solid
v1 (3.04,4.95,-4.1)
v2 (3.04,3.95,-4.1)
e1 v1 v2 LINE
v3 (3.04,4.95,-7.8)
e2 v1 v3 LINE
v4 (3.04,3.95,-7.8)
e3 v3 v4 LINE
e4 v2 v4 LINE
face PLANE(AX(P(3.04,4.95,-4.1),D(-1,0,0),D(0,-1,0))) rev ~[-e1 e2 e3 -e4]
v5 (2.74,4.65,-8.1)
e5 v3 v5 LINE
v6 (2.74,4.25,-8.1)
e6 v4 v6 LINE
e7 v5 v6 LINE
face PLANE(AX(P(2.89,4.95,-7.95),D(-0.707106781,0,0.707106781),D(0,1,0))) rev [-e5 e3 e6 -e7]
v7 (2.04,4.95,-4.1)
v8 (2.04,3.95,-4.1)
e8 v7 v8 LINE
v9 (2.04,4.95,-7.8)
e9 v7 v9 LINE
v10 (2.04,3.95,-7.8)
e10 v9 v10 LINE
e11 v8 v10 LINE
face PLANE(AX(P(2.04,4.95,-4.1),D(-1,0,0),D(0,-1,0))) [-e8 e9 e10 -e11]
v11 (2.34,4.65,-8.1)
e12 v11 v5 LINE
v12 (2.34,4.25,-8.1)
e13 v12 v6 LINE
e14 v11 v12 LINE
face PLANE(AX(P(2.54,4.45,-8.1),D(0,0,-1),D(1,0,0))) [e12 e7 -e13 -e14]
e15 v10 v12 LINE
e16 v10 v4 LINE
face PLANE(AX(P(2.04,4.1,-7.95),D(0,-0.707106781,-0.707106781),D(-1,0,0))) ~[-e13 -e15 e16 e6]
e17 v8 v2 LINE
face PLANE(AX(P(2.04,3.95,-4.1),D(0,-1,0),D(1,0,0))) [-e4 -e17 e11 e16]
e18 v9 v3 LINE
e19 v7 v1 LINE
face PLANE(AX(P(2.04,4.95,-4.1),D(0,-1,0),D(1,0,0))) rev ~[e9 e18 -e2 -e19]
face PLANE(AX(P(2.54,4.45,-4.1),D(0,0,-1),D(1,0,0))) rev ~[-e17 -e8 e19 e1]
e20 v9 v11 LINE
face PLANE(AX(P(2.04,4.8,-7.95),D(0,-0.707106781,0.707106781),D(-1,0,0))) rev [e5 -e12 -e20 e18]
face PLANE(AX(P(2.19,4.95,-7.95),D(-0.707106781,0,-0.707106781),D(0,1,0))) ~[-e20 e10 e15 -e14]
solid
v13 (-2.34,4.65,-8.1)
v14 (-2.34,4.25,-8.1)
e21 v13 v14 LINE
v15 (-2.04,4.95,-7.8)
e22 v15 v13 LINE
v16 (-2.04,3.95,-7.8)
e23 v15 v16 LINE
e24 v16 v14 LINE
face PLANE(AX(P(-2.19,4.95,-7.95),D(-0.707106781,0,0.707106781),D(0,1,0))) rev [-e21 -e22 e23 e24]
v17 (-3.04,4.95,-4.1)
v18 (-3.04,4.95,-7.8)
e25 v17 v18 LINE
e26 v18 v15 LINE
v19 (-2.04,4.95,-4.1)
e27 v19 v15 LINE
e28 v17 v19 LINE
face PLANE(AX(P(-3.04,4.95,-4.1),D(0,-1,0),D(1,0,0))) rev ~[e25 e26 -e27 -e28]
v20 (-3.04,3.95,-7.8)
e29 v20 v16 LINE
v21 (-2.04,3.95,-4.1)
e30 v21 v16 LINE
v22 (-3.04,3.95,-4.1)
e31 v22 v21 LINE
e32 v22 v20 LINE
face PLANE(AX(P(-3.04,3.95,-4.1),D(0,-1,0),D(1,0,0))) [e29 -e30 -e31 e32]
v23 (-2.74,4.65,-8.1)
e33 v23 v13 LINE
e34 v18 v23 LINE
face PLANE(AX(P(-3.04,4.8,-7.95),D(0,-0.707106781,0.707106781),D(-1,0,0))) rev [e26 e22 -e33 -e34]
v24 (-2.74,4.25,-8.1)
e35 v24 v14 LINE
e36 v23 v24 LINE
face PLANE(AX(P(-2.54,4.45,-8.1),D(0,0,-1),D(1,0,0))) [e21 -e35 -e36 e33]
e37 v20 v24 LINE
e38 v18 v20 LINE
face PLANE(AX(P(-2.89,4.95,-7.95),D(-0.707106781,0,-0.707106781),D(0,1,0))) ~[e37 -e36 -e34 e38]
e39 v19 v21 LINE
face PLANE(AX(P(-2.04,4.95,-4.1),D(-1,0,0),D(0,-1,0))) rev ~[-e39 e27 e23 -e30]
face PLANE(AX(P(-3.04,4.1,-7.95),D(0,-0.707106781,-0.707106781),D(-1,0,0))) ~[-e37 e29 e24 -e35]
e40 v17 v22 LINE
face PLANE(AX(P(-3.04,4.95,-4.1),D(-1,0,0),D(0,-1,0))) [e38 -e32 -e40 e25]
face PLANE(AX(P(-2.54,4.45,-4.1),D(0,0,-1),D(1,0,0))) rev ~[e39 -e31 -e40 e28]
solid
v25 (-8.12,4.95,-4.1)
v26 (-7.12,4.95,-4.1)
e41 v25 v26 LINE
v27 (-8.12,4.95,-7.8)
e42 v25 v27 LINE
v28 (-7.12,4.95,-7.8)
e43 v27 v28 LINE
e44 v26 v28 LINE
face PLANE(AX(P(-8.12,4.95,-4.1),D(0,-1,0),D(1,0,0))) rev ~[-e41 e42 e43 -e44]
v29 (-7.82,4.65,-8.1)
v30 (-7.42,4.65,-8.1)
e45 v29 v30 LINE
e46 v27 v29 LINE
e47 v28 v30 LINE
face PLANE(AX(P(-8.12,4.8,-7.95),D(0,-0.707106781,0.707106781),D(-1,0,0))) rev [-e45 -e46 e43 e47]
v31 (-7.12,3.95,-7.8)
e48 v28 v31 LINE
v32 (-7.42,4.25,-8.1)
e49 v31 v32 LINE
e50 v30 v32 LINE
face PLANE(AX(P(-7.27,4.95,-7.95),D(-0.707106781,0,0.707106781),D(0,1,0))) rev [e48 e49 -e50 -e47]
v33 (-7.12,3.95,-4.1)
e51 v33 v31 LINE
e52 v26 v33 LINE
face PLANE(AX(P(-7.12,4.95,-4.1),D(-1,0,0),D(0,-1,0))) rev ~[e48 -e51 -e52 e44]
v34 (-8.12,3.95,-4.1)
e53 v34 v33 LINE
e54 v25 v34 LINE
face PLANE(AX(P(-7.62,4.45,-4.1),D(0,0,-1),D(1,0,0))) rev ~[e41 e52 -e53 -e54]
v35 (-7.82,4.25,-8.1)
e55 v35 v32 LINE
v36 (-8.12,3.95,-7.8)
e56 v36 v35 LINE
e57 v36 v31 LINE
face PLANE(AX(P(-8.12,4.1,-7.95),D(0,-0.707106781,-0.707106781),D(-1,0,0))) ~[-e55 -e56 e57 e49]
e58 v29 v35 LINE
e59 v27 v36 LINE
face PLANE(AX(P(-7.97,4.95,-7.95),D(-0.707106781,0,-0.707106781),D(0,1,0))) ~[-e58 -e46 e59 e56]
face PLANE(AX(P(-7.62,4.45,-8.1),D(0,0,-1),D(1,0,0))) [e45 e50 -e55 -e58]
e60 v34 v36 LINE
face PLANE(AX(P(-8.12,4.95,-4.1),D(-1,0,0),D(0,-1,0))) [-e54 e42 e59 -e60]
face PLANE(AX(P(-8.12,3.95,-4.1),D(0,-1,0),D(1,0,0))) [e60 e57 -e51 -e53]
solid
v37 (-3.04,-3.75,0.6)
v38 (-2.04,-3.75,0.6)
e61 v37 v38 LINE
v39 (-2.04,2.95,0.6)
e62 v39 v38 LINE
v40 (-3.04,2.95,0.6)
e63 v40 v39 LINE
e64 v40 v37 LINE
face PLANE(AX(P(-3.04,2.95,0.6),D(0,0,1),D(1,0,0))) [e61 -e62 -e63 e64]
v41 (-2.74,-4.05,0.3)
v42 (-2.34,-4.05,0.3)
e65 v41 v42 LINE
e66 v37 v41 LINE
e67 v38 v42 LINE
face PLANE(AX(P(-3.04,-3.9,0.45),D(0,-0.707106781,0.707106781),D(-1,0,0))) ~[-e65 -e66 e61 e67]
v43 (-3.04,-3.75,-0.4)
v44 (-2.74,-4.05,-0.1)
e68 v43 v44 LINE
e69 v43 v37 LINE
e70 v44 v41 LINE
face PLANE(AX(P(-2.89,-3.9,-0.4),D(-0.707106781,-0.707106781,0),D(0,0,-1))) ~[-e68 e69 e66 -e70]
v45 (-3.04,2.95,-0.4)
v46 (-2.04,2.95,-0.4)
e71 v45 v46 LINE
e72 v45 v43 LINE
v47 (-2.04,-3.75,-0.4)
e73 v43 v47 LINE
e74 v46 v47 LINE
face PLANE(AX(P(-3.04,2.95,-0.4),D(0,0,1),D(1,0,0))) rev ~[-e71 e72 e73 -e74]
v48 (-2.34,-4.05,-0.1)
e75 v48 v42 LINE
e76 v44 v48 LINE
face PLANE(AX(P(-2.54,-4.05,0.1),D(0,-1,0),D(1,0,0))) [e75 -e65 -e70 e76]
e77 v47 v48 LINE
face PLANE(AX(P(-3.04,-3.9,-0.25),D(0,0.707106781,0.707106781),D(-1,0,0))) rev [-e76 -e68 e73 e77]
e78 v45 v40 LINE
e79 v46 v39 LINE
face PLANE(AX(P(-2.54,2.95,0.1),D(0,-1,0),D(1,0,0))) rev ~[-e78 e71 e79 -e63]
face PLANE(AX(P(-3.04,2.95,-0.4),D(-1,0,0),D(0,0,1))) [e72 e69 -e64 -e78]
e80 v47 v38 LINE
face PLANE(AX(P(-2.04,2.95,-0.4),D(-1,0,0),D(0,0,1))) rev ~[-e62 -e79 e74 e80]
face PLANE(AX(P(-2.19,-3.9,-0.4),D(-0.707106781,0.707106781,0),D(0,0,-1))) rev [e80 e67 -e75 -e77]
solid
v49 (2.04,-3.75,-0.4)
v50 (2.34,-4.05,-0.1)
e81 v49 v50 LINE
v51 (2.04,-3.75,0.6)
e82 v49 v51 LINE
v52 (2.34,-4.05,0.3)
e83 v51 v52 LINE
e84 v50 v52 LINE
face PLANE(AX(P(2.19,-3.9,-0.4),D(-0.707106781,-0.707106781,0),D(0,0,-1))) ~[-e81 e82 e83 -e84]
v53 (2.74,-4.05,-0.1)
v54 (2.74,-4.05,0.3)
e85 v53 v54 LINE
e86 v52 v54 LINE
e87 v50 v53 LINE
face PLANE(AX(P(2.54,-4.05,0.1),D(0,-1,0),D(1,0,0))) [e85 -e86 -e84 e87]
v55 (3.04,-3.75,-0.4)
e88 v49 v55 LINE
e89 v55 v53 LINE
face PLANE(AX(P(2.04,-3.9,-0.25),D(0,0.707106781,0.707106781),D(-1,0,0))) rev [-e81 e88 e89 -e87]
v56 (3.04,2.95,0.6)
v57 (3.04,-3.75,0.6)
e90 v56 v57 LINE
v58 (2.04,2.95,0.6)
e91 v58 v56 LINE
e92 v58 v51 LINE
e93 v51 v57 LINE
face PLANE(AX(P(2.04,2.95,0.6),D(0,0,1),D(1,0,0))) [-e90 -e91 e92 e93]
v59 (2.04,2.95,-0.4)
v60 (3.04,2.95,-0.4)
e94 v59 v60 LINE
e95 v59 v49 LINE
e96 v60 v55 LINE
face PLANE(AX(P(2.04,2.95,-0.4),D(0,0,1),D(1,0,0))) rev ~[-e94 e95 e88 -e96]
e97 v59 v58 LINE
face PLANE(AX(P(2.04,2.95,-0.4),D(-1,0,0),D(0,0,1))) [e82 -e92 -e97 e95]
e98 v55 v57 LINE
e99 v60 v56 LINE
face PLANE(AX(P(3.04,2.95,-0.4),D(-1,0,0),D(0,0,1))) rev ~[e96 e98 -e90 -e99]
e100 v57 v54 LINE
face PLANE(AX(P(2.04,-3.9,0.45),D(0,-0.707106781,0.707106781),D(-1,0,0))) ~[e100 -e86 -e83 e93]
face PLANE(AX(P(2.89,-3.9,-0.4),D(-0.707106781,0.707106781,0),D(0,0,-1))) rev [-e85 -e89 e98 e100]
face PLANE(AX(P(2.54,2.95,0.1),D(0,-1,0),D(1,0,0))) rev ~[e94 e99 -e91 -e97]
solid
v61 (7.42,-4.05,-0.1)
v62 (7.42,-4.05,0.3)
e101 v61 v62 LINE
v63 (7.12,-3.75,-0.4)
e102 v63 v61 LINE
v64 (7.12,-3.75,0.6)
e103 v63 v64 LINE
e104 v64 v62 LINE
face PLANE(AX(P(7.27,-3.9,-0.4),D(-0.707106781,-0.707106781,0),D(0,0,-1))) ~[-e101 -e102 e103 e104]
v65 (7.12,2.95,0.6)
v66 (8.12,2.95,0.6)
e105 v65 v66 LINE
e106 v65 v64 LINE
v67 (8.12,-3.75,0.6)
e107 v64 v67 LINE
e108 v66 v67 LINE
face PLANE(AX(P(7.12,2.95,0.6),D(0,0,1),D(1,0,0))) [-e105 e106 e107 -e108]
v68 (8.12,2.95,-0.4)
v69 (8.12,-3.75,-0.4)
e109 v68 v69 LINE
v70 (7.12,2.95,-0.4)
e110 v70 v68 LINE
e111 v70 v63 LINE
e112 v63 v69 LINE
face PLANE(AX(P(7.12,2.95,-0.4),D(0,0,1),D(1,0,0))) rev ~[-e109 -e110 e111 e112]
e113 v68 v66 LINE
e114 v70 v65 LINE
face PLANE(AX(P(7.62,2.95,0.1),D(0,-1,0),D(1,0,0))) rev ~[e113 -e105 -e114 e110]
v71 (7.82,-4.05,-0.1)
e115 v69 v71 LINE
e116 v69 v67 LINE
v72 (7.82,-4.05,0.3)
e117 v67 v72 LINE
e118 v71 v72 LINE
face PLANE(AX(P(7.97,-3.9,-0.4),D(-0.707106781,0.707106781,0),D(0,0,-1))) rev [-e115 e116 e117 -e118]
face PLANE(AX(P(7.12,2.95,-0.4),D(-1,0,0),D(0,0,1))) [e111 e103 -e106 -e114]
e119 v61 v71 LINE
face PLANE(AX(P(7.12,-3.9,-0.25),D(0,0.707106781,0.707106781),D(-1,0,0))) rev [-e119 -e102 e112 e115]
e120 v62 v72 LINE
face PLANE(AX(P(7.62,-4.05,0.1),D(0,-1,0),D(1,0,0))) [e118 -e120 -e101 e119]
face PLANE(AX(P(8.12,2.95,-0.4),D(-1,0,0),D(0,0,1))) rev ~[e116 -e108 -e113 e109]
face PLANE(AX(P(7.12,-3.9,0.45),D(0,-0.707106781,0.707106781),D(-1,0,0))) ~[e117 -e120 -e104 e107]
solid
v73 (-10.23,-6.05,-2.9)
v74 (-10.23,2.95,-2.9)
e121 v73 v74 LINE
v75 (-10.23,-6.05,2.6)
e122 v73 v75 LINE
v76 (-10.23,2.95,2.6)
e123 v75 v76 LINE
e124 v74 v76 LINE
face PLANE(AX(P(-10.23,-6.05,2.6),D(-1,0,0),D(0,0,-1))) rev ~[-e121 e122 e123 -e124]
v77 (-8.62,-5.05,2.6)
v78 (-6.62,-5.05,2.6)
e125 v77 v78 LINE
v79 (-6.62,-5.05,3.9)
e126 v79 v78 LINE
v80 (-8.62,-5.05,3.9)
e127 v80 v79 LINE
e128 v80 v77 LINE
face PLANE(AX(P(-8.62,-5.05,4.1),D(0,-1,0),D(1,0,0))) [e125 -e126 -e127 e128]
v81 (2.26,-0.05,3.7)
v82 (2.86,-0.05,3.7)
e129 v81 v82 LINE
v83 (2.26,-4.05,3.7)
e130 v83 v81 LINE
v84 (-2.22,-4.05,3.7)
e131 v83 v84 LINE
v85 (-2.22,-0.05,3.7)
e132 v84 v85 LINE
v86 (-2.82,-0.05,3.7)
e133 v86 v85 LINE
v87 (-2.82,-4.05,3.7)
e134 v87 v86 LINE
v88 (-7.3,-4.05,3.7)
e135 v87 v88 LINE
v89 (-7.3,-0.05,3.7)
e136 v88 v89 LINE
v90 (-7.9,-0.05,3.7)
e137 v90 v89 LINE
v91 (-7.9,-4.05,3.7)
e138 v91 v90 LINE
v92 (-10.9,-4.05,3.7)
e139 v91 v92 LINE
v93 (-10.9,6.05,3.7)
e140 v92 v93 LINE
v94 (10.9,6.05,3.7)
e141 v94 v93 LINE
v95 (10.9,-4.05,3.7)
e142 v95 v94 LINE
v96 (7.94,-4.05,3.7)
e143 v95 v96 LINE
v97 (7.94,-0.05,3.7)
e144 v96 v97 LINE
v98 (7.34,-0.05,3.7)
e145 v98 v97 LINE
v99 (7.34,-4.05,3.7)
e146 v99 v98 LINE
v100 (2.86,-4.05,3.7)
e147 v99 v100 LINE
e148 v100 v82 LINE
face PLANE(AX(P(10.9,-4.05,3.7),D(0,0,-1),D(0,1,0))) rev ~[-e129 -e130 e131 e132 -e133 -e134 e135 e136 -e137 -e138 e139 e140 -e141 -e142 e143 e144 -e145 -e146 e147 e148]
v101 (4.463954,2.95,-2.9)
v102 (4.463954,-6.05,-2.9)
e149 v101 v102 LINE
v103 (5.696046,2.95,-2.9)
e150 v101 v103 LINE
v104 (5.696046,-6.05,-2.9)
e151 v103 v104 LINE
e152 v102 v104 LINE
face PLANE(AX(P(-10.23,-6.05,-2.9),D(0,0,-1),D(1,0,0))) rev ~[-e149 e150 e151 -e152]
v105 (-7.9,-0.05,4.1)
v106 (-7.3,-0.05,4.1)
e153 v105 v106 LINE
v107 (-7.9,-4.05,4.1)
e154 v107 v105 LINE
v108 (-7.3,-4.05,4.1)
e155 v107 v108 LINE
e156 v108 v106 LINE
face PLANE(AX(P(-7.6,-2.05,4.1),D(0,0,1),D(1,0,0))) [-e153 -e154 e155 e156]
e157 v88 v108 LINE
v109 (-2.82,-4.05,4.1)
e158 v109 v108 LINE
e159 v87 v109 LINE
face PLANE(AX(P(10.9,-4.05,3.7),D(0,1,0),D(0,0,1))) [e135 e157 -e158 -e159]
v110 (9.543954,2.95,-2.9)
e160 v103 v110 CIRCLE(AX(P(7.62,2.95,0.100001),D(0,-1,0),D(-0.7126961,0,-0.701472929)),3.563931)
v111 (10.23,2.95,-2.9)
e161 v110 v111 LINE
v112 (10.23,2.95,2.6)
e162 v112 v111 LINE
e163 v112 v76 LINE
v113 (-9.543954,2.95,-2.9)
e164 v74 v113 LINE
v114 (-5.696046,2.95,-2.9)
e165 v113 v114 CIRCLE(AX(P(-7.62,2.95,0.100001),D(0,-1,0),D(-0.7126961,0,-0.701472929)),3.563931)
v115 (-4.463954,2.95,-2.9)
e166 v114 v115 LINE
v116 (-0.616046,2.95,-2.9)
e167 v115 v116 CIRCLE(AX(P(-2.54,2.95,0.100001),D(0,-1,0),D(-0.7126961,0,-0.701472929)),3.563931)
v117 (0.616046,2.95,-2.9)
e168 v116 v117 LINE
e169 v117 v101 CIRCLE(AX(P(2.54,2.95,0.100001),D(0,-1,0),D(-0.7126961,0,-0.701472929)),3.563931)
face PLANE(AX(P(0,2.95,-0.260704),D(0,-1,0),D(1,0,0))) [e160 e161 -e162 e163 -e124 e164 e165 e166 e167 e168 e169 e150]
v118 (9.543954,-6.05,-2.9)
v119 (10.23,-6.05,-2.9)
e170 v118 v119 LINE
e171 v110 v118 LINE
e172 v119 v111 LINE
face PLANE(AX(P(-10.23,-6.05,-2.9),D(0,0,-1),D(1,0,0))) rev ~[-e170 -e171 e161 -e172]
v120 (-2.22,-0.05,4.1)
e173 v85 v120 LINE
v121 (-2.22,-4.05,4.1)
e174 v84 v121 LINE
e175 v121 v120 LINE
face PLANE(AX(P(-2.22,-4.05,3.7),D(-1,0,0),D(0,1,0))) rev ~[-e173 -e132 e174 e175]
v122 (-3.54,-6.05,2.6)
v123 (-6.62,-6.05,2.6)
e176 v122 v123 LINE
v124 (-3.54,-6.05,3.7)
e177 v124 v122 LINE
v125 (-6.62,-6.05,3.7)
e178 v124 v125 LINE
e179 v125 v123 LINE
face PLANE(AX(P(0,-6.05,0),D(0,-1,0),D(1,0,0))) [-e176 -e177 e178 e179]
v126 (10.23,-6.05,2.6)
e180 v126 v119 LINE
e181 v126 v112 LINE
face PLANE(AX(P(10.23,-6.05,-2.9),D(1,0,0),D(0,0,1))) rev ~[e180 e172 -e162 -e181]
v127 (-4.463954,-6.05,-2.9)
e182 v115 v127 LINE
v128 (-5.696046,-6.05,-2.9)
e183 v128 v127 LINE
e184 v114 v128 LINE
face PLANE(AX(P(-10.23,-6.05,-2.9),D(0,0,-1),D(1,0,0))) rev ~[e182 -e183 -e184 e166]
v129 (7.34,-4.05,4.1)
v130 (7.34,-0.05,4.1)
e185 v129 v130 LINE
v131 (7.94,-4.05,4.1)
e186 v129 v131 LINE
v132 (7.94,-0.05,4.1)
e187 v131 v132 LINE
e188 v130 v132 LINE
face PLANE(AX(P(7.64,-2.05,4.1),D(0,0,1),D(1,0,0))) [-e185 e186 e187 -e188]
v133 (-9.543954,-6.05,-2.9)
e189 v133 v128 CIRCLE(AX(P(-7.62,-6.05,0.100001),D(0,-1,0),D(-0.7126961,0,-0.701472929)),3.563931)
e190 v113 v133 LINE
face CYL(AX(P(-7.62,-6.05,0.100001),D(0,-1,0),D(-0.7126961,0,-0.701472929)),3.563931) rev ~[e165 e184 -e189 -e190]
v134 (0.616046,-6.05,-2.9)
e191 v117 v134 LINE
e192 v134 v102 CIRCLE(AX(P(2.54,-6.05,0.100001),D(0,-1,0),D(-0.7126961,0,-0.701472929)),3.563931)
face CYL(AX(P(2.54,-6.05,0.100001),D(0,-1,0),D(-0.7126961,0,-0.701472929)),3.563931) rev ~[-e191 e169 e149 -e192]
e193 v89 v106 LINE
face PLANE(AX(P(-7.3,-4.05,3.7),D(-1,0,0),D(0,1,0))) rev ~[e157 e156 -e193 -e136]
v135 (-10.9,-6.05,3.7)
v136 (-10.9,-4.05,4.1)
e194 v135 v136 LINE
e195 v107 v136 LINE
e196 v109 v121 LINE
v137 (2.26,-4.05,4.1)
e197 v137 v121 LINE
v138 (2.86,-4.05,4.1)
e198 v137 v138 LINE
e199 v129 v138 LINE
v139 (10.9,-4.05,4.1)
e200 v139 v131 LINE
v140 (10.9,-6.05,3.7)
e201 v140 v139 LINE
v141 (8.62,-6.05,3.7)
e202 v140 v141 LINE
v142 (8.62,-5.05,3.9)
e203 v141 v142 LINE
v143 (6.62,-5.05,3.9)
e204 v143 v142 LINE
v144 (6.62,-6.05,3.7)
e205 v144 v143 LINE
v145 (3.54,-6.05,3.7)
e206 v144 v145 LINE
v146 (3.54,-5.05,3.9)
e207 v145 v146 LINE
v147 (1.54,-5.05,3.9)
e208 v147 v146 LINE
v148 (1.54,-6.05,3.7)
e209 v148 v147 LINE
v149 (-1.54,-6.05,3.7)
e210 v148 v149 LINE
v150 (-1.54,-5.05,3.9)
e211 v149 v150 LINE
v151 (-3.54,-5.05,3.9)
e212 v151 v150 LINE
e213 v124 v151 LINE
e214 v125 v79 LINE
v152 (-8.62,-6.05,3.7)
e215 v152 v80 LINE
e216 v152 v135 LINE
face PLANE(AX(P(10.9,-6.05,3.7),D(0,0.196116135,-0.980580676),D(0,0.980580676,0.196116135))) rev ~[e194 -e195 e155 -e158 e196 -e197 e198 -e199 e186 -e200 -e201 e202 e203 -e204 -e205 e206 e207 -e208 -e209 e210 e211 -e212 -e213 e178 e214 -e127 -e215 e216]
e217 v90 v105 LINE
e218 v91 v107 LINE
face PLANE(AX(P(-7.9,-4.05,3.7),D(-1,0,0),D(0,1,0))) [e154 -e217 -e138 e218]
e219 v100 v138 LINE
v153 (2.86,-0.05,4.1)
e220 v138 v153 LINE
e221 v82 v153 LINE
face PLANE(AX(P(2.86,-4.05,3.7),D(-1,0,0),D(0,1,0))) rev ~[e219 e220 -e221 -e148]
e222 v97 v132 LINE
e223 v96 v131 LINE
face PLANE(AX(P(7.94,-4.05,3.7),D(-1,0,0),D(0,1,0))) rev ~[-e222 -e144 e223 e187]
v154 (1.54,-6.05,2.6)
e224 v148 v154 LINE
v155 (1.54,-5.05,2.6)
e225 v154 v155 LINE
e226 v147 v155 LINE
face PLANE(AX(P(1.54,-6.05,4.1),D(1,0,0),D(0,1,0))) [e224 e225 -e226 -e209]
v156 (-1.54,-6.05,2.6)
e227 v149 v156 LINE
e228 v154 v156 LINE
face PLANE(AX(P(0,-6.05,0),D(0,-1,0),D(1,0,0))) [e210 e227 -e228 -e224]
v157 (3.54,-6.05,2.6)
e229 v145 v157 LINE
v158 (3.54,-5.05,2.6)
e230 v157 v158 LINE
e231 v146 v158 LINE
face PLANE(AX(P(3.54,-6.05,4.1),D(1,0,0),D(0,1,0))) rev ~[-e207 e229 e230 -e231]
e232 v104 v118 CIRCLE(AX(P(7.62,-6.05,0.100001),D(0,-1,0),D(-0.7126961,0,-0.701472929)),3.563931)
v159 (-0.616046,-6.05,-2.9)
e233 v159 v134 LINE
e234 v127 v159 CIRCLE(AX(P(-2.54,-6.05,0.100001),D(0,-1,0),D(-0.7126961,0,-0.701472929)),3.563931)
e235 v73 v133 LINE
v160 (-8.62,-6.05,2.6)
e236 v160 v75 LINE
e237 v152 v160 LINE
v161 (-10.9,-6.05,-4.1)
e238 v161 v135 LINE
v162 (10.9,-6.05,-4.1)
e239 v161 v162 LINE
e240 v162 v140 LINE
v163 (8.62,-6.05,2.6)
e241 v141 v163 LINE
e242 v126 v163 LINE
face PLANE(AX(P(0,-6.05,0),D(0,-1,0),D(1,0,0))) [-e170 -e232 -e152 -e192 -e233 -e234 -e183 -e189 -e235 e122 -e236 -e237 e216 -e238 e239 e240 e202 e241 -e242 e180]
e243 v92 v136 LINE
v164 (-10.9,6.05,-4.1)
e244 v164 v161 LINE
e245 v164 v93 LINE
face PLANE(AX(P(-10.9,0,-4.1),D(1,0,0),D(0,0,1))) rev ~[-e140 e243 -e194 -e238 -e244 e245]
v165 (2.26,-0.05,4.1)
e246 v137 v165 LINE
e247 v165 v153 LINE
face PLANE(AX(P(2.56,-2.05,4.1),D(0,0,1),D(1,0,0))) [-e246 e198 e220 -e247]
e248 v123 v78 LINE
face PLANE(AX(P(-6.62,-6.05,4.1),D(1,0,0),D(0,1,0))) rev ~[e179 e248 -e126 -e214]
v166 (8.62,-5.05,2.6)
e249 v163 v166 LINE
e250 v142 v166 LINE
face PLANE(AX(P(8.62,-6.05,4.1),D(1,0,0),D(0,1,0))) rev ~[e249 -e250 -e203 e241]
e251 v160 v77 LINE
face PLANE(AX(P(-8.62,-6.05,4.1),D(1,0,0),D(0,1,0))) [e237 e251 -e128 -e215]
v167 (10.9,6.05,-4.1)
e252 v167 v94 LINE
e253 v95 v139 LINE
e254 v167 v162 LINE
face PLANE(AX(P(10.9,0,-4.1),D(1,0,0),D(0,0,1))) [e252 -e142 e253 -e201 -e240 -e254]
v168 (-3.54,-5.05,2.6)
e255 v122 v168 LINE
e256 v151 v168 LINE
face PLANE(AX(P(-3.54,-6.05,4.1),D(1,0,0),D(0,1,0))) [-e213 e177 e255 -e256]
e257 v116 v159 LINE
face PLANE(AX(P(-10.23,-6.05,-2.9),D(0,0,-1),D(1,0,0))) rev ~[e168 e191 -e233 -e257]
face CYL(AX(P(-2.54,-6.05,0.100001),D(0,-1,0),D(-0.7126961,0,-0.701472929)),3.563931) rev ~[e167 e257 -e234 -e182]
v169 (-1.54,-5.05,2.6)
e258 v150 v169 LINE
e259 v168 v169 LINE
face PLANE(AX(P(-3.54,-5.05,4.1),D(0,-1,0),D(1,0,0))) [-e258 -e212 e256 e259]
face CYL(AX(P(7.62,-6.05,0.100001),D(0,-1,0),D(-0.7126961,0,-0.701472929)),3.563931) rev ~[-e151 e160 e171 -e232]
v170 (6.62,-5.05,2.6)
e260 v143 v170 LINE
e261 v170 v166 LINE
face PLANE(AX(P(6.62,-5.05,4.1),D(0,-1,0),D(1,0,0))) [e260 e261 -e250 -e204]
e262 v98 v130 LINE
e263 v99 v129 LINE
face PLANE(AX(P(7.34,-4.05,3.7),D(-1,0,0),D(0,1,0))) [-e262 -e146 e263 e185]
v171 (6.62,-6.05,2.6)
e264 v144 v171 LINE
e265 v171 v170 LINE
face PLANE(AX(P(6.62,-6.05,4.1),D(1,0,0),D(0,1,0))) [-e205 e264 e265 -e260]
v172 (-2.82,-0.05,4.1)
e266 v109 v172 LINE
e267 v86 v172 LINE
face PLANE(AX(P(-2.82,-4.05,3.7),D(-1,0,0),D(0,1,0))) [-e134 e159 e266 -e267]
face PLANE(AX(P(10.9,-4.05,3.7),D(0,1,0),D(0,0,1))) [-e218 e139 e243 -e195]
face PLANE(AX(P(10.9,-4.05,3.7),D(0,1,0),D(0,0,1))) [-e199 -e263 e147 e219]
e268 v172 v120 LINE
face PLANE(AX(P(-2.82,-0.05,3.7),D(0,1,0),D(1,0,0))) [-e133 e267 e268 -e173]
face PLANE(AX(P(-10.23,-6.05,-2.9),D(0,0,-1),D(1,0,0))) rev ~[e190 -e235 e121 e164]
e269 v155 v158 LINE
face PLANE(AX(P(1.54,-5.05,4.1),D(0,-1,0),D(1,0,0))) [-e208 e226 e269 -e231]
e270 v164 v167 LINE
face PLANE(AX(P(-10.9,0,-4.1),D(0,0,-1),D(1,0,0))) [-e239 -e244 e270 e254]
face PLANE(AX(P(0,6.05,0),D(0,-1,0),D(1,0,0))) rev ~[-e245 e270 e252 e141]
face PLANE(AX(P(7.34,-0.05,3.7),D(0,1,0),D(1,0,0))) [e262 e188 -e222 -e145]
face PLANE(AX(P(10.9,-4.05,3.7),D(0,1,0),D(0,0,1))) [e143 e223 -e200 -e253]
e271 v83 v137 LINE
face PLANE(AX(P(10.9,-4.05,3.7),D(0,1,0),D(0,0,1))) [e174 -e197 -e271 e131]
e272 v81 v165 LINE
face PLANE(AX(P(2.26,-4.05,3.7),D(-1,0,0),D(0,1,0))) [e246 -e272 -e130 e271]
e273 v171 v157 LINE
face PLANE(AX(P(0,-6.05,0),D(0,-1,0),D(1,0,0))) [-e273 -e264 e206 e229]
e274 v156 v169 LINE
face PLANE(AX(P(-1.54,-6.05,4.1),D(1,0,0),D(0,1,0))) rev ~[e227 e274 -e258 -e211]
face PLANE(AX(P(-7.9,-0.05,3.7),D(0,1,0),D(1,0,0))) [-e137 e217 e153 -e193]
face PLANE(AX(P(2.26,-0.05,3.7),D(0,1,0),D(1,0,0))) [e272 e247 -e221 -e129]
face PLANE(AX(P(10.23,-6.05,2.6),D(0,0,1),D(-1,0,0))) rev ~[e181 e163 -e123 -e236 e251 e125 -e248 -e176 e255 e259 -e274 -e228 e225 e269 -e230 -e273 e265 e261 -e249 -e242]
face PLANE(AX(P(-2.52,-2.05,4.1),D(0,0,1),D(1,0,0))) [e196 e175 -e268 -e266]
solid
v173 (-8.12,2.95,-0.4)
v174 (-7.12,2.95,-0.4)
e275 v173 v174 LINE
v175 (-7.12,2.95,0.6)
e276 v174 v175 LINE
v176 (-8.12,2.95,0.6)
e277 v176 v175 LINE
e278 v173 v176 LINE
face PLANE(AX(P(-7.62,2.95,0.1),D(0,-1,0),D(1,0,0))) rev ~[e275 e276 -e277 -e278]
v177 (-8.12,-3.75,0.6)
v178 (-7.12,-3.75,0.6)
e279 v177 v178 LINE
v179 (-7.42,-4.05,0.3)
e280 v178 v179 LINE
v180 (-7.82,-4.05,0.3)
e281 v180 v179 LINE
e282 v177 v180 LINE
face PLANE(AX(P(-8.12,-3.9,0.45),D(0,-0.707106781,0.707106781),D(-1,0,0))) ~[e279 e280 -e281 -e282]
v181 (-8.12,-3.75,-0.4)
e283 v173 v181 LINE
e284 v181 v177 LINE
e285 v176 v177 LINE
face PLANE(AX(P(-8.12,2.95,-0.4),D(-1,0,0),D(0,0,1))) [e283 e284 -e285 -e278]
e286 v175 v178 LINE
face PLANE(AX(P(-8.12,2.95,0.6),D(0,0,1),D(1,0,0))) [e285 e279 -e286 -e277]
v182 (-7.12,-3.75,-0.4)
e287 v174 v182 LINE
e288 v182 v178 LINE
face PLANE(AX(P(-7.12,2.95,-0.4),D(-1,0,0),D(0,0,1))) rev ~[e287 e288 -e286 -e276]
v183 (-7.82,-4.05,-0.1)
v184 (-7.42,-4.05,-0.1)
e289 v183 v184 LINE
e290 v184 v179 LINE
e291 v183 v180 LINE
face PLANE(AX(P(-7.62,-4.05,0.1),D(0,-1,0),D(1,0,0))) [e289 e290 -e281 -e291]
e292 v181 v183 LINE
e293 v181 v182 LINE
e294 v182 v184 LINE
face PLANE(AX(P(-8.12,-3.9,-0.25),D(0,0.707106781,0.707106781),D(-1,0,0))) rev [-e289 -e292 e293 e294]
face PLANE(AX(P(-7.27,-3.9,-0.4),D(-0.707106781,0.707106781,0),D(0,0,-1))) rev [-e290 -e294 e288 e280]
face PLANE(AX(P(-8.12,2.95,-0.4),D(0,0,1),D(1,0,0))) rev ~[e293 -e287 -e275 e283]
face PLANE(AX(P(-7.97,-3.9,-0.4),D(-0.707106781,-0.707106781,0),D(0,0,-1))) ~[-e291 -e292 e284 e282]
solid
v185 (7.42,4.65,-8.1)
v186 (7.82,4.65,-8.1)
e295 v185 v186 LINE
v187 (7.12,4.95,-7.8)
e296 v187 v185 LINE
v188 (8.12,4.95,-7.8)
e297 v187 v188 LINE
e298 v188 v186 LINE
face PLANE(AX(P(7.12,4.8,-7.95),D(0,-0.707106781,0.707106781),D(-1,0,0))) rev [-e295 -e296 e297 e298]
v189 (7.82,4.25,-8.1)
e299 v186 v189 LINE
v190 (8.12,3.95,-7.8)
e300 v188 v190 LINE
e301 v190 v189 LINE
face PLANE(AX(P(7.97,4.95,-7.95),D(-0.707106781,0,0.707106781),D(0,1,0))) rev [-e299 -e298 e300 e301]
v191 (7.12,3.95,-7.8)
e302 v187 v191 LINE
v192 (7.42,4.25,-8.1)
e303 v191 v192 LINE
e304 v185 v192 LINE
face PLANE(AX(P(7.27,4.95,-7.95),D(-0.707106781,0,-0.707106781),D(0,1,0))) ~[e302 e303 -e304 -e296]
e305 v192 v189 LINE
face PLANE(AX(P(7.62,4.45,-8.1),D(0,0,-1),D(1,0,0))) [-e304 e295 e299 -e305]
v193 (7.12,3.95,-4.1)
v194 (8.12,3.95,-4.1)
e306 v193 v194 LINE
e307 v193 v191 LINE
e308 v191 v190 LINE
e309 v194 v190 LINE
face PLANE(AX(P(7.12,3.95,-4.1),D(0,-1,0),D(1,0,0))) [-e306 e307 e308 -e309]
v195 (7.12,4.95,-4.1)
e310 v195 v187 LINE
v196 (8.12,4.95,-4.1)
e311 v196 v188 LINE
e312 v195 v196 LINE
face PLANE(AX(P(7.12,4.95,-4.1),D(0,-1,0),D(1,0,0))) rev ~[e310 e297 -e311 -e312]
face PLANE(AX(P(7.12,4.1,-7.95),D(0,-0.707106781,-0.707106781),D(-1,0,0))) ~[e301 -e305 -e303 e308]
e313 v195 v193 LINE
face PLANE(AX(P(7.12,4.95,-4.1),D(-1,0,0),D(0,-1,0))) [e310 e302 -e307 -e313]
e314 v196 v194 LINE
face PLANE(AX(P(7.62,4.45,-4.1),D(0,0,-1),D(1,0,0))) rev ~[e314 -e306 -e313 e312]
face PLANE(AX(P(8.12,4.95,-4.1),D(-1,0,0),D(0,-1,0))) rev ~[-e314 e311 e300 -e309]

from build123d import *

# Parameters (mm, degrees)
F0_W       = 21.8
F0_H       = 8.2
F1_DEPTH   = 6.05
F3_DEPTH   = 9
F4_W       = 1
F4_H       = 1
F5_DEPTH   = 7
F6_W       = 1
F6_H       = 1
F7_DEPTH   = 4
F8_W       = 2
F8_H       = 1
F9_DEPTH   = 2
F10_W      = 20.46
F10_H      = 0.5
F11_DEPTH  = 9
F12_SIZE   = 0.3
F12_2_SIZE = 0.3
F13_W      = 10.1
F13_H      = 0.4
F14_DEPTH  = 21.801
F15_W      = 0.6
F15_H      = 4
F16_DEPTH  = 0.4


with BuildPart() as f1:
    # F0 (on Front) → F1 (new body, symmetric)
    with BuildSketch(Plane.XZ):
        Rectangle(F0_W, F0_H)
    extrude(amount=F1_DEPTH, both=True)

    # F2 (on face) → F3 (cut)
    with BuildSketch(Plane.XZ.offset(6.05)):
        with BuildLine():
            Line((10.23, 2.6), (-10.23, 2.6))
            Line((-10.23, 2.6), (-10.23, -2.4))
            Line((-10.23, -2.4), (-10.16, -2.4))
            ThreePointArc((-10.16, -2.4), (-7.62, -3.46393), (-5.08, -2.4))
            ThreePointArc((-5.08, -2.4), (-2.54, -3.46393), (0, -2.4))
            ThreePointArc((0, -2.4), (2.54, -3.46393), (5.08, -2.4))
            ThreePointArc((5.08, -2.4), (7.62, -3.46393), (10.16, -2.4))
            Line((10.16, -2.4), (10.23, -2.4))
            Line((10.23, -2.4), (10.23, 2.6))
        make_face()
    extrude(amount=-F3_DEPTH, mode=Mode.SUBTRACT)

    # F8 (on face) → F9 (cut)
    with BuildSketch(Plane.XY.offset(4.1)):
        with Locations((-2.54, -5.55)):
            Rectangle(F8_W, F8_H)
        with Locations((2.54, -5.55)):
            Rectangle(F8_W, F8_H)
        with Locations((7.62, -5.55)):
            Rectangle(F8_W, F8_H)
        with Locations((-7.62, -5.55)):
            Rectangle(F8_W, F8_H)
    extrude(amount=-F9_DEPTH, mode=Mode.SUBTRACT)

    # F10 (on face) → F11 (cut, through all)
    with BuildSketch(Plane.XZ.offset(6.05)):
        with Locations((0, -2.65)):
            Rectangle(F10_W, F10_H)
    extrude(amount=-F11_DEPTH, mode=Mode.SUBTRACT)

    # F13 (on face) → F14 (cut, through all)
    with BuildSketch(Plane.YZ.offset(10.9)):
        Polygon((-4.05, 4.1), (-6.05, 4.1), (-6.05, 3.7), align=None)
        with Locations((1, 3.9)):
            Rectangle(F13_W, F13_H)
    extrude(amount=-F14_DEPTH, mode=Mode.SUBTRACT)

    # F15 (on face) → F16 (join)
    with BuildSketch(Plane.XY.offset(3.7)):
        with Locations((-7.6, -2.05)):
            Rectangle(F15_W, F15_H)
        with Locations((-2.52, -2.05)):
            Rectangle(F15_W, F15_H)
        with Locations((2.56, -2.05)):
            Rectangle(F15_W, F15_H)
        with Locations((7.64, -2.05)):
            Rectangle(F15_W, F15_H)
    extrude(amount=F16_DEPTH)


with BuildPart() as f5:
    # F4 (on face) → F5 (new body)
    with BuildSketch(Plane.XZ.offset(-2.95)):
        with Locations((-7.62, 0.1)):
            Rectangle(F4_W, F4_H)
        with Locations((-2.54, 0.1)):
            Rectangle(F4_W, F4_H)
        with Locations((2.54, 0.1)):
            Rectangle(F4_W, F4_H)
        with Locations((7.62, 0.1)):
            Rectangle(F4_W, F4_H)
    extrude(amount=F5_DEPTH)

    # F12
    f12_edges = [f5.edges().sort_by_distance(p)[0] for p in [
        (-7.62, -4.05, -0.4),
        (-7.12, -4.05, 0.1),
        (-7.62, -4.05, 0.6),
        (-8.12, -4.05, 0.1),
        (-2.54, -4.05, -0.4),
        (-2.04, -4.05, 0.1),
        (-2.54, -4.05, 0.6),
        (-3.04, -4.05, 0.1),
        (2.54, -4.05, -0.4),
        (3.04, -4.05, 0.1),
        (2.54, -4.05, 0.6),
        (2.04, -4.05, 0.1),
        (7.62, -4.05, -0.4),
        (8.12, -4.05, 0.1),
        (7.62, -4.05, 0.6),
        (7.12, -4.05, 0.1),
    ]]
    chamfer(f12_edges, length=F12_SIZE)


with BuildPart() as f7:
    # F6 (on face) → F7 (new body)
    with BuildSketch(Plane(origin=(0, 0, -4.1), x_dir=(1, 0, 0), z_dir=(0, 0, -1))):
        with Locations((-7.62, -4.45)):
            Rectangle(F6_W, F6_H)
        with Locations((-2.54, -4.45)):
            Rectangle(F6_W, F6_H)
        with Locations((7.62, -4.45)):
            Rectangle(F6_W, F6_H)
        with Locations((2.54, -4.45)):
            Rectangle(F6_W, F6_H)
    extrude(amount=F7_DEPTH)

    # F12#2
    f12_2_edges = [f7.edges().sort_by_distance(p)[0] for p in [
        (-7.62, 3.95, -8.1),
        (-8.12, 4.45, -8.1),
        (-7.62, 4.95, -8.1),
        (-7.12, 4.45, -8.1),
        (-2.54, 3.95, -8.1),
        (-3.04, 4.45, -8.1),
        (-2.54, 4.95, -8.1),
        (-2.04, 4.45, -8.1),
        (3.04, 4.45, -8.1),
        (2.54, 3.95, -8.1),
        (2.04, 4.45, -8.1),
        (2.54, 4.95, -8.1),
        (8.12, 4.45, -8.1),
        (7.62, 3.95, -8.1),
        (7.12, 4.45, -8.1),
        (7.62, 4.95, -8.1),
    ]]
    chamfer(f12_2_edges, length=F12_2_SIZE)


solid = Compound([f1.part, f5.part, f7.part])
